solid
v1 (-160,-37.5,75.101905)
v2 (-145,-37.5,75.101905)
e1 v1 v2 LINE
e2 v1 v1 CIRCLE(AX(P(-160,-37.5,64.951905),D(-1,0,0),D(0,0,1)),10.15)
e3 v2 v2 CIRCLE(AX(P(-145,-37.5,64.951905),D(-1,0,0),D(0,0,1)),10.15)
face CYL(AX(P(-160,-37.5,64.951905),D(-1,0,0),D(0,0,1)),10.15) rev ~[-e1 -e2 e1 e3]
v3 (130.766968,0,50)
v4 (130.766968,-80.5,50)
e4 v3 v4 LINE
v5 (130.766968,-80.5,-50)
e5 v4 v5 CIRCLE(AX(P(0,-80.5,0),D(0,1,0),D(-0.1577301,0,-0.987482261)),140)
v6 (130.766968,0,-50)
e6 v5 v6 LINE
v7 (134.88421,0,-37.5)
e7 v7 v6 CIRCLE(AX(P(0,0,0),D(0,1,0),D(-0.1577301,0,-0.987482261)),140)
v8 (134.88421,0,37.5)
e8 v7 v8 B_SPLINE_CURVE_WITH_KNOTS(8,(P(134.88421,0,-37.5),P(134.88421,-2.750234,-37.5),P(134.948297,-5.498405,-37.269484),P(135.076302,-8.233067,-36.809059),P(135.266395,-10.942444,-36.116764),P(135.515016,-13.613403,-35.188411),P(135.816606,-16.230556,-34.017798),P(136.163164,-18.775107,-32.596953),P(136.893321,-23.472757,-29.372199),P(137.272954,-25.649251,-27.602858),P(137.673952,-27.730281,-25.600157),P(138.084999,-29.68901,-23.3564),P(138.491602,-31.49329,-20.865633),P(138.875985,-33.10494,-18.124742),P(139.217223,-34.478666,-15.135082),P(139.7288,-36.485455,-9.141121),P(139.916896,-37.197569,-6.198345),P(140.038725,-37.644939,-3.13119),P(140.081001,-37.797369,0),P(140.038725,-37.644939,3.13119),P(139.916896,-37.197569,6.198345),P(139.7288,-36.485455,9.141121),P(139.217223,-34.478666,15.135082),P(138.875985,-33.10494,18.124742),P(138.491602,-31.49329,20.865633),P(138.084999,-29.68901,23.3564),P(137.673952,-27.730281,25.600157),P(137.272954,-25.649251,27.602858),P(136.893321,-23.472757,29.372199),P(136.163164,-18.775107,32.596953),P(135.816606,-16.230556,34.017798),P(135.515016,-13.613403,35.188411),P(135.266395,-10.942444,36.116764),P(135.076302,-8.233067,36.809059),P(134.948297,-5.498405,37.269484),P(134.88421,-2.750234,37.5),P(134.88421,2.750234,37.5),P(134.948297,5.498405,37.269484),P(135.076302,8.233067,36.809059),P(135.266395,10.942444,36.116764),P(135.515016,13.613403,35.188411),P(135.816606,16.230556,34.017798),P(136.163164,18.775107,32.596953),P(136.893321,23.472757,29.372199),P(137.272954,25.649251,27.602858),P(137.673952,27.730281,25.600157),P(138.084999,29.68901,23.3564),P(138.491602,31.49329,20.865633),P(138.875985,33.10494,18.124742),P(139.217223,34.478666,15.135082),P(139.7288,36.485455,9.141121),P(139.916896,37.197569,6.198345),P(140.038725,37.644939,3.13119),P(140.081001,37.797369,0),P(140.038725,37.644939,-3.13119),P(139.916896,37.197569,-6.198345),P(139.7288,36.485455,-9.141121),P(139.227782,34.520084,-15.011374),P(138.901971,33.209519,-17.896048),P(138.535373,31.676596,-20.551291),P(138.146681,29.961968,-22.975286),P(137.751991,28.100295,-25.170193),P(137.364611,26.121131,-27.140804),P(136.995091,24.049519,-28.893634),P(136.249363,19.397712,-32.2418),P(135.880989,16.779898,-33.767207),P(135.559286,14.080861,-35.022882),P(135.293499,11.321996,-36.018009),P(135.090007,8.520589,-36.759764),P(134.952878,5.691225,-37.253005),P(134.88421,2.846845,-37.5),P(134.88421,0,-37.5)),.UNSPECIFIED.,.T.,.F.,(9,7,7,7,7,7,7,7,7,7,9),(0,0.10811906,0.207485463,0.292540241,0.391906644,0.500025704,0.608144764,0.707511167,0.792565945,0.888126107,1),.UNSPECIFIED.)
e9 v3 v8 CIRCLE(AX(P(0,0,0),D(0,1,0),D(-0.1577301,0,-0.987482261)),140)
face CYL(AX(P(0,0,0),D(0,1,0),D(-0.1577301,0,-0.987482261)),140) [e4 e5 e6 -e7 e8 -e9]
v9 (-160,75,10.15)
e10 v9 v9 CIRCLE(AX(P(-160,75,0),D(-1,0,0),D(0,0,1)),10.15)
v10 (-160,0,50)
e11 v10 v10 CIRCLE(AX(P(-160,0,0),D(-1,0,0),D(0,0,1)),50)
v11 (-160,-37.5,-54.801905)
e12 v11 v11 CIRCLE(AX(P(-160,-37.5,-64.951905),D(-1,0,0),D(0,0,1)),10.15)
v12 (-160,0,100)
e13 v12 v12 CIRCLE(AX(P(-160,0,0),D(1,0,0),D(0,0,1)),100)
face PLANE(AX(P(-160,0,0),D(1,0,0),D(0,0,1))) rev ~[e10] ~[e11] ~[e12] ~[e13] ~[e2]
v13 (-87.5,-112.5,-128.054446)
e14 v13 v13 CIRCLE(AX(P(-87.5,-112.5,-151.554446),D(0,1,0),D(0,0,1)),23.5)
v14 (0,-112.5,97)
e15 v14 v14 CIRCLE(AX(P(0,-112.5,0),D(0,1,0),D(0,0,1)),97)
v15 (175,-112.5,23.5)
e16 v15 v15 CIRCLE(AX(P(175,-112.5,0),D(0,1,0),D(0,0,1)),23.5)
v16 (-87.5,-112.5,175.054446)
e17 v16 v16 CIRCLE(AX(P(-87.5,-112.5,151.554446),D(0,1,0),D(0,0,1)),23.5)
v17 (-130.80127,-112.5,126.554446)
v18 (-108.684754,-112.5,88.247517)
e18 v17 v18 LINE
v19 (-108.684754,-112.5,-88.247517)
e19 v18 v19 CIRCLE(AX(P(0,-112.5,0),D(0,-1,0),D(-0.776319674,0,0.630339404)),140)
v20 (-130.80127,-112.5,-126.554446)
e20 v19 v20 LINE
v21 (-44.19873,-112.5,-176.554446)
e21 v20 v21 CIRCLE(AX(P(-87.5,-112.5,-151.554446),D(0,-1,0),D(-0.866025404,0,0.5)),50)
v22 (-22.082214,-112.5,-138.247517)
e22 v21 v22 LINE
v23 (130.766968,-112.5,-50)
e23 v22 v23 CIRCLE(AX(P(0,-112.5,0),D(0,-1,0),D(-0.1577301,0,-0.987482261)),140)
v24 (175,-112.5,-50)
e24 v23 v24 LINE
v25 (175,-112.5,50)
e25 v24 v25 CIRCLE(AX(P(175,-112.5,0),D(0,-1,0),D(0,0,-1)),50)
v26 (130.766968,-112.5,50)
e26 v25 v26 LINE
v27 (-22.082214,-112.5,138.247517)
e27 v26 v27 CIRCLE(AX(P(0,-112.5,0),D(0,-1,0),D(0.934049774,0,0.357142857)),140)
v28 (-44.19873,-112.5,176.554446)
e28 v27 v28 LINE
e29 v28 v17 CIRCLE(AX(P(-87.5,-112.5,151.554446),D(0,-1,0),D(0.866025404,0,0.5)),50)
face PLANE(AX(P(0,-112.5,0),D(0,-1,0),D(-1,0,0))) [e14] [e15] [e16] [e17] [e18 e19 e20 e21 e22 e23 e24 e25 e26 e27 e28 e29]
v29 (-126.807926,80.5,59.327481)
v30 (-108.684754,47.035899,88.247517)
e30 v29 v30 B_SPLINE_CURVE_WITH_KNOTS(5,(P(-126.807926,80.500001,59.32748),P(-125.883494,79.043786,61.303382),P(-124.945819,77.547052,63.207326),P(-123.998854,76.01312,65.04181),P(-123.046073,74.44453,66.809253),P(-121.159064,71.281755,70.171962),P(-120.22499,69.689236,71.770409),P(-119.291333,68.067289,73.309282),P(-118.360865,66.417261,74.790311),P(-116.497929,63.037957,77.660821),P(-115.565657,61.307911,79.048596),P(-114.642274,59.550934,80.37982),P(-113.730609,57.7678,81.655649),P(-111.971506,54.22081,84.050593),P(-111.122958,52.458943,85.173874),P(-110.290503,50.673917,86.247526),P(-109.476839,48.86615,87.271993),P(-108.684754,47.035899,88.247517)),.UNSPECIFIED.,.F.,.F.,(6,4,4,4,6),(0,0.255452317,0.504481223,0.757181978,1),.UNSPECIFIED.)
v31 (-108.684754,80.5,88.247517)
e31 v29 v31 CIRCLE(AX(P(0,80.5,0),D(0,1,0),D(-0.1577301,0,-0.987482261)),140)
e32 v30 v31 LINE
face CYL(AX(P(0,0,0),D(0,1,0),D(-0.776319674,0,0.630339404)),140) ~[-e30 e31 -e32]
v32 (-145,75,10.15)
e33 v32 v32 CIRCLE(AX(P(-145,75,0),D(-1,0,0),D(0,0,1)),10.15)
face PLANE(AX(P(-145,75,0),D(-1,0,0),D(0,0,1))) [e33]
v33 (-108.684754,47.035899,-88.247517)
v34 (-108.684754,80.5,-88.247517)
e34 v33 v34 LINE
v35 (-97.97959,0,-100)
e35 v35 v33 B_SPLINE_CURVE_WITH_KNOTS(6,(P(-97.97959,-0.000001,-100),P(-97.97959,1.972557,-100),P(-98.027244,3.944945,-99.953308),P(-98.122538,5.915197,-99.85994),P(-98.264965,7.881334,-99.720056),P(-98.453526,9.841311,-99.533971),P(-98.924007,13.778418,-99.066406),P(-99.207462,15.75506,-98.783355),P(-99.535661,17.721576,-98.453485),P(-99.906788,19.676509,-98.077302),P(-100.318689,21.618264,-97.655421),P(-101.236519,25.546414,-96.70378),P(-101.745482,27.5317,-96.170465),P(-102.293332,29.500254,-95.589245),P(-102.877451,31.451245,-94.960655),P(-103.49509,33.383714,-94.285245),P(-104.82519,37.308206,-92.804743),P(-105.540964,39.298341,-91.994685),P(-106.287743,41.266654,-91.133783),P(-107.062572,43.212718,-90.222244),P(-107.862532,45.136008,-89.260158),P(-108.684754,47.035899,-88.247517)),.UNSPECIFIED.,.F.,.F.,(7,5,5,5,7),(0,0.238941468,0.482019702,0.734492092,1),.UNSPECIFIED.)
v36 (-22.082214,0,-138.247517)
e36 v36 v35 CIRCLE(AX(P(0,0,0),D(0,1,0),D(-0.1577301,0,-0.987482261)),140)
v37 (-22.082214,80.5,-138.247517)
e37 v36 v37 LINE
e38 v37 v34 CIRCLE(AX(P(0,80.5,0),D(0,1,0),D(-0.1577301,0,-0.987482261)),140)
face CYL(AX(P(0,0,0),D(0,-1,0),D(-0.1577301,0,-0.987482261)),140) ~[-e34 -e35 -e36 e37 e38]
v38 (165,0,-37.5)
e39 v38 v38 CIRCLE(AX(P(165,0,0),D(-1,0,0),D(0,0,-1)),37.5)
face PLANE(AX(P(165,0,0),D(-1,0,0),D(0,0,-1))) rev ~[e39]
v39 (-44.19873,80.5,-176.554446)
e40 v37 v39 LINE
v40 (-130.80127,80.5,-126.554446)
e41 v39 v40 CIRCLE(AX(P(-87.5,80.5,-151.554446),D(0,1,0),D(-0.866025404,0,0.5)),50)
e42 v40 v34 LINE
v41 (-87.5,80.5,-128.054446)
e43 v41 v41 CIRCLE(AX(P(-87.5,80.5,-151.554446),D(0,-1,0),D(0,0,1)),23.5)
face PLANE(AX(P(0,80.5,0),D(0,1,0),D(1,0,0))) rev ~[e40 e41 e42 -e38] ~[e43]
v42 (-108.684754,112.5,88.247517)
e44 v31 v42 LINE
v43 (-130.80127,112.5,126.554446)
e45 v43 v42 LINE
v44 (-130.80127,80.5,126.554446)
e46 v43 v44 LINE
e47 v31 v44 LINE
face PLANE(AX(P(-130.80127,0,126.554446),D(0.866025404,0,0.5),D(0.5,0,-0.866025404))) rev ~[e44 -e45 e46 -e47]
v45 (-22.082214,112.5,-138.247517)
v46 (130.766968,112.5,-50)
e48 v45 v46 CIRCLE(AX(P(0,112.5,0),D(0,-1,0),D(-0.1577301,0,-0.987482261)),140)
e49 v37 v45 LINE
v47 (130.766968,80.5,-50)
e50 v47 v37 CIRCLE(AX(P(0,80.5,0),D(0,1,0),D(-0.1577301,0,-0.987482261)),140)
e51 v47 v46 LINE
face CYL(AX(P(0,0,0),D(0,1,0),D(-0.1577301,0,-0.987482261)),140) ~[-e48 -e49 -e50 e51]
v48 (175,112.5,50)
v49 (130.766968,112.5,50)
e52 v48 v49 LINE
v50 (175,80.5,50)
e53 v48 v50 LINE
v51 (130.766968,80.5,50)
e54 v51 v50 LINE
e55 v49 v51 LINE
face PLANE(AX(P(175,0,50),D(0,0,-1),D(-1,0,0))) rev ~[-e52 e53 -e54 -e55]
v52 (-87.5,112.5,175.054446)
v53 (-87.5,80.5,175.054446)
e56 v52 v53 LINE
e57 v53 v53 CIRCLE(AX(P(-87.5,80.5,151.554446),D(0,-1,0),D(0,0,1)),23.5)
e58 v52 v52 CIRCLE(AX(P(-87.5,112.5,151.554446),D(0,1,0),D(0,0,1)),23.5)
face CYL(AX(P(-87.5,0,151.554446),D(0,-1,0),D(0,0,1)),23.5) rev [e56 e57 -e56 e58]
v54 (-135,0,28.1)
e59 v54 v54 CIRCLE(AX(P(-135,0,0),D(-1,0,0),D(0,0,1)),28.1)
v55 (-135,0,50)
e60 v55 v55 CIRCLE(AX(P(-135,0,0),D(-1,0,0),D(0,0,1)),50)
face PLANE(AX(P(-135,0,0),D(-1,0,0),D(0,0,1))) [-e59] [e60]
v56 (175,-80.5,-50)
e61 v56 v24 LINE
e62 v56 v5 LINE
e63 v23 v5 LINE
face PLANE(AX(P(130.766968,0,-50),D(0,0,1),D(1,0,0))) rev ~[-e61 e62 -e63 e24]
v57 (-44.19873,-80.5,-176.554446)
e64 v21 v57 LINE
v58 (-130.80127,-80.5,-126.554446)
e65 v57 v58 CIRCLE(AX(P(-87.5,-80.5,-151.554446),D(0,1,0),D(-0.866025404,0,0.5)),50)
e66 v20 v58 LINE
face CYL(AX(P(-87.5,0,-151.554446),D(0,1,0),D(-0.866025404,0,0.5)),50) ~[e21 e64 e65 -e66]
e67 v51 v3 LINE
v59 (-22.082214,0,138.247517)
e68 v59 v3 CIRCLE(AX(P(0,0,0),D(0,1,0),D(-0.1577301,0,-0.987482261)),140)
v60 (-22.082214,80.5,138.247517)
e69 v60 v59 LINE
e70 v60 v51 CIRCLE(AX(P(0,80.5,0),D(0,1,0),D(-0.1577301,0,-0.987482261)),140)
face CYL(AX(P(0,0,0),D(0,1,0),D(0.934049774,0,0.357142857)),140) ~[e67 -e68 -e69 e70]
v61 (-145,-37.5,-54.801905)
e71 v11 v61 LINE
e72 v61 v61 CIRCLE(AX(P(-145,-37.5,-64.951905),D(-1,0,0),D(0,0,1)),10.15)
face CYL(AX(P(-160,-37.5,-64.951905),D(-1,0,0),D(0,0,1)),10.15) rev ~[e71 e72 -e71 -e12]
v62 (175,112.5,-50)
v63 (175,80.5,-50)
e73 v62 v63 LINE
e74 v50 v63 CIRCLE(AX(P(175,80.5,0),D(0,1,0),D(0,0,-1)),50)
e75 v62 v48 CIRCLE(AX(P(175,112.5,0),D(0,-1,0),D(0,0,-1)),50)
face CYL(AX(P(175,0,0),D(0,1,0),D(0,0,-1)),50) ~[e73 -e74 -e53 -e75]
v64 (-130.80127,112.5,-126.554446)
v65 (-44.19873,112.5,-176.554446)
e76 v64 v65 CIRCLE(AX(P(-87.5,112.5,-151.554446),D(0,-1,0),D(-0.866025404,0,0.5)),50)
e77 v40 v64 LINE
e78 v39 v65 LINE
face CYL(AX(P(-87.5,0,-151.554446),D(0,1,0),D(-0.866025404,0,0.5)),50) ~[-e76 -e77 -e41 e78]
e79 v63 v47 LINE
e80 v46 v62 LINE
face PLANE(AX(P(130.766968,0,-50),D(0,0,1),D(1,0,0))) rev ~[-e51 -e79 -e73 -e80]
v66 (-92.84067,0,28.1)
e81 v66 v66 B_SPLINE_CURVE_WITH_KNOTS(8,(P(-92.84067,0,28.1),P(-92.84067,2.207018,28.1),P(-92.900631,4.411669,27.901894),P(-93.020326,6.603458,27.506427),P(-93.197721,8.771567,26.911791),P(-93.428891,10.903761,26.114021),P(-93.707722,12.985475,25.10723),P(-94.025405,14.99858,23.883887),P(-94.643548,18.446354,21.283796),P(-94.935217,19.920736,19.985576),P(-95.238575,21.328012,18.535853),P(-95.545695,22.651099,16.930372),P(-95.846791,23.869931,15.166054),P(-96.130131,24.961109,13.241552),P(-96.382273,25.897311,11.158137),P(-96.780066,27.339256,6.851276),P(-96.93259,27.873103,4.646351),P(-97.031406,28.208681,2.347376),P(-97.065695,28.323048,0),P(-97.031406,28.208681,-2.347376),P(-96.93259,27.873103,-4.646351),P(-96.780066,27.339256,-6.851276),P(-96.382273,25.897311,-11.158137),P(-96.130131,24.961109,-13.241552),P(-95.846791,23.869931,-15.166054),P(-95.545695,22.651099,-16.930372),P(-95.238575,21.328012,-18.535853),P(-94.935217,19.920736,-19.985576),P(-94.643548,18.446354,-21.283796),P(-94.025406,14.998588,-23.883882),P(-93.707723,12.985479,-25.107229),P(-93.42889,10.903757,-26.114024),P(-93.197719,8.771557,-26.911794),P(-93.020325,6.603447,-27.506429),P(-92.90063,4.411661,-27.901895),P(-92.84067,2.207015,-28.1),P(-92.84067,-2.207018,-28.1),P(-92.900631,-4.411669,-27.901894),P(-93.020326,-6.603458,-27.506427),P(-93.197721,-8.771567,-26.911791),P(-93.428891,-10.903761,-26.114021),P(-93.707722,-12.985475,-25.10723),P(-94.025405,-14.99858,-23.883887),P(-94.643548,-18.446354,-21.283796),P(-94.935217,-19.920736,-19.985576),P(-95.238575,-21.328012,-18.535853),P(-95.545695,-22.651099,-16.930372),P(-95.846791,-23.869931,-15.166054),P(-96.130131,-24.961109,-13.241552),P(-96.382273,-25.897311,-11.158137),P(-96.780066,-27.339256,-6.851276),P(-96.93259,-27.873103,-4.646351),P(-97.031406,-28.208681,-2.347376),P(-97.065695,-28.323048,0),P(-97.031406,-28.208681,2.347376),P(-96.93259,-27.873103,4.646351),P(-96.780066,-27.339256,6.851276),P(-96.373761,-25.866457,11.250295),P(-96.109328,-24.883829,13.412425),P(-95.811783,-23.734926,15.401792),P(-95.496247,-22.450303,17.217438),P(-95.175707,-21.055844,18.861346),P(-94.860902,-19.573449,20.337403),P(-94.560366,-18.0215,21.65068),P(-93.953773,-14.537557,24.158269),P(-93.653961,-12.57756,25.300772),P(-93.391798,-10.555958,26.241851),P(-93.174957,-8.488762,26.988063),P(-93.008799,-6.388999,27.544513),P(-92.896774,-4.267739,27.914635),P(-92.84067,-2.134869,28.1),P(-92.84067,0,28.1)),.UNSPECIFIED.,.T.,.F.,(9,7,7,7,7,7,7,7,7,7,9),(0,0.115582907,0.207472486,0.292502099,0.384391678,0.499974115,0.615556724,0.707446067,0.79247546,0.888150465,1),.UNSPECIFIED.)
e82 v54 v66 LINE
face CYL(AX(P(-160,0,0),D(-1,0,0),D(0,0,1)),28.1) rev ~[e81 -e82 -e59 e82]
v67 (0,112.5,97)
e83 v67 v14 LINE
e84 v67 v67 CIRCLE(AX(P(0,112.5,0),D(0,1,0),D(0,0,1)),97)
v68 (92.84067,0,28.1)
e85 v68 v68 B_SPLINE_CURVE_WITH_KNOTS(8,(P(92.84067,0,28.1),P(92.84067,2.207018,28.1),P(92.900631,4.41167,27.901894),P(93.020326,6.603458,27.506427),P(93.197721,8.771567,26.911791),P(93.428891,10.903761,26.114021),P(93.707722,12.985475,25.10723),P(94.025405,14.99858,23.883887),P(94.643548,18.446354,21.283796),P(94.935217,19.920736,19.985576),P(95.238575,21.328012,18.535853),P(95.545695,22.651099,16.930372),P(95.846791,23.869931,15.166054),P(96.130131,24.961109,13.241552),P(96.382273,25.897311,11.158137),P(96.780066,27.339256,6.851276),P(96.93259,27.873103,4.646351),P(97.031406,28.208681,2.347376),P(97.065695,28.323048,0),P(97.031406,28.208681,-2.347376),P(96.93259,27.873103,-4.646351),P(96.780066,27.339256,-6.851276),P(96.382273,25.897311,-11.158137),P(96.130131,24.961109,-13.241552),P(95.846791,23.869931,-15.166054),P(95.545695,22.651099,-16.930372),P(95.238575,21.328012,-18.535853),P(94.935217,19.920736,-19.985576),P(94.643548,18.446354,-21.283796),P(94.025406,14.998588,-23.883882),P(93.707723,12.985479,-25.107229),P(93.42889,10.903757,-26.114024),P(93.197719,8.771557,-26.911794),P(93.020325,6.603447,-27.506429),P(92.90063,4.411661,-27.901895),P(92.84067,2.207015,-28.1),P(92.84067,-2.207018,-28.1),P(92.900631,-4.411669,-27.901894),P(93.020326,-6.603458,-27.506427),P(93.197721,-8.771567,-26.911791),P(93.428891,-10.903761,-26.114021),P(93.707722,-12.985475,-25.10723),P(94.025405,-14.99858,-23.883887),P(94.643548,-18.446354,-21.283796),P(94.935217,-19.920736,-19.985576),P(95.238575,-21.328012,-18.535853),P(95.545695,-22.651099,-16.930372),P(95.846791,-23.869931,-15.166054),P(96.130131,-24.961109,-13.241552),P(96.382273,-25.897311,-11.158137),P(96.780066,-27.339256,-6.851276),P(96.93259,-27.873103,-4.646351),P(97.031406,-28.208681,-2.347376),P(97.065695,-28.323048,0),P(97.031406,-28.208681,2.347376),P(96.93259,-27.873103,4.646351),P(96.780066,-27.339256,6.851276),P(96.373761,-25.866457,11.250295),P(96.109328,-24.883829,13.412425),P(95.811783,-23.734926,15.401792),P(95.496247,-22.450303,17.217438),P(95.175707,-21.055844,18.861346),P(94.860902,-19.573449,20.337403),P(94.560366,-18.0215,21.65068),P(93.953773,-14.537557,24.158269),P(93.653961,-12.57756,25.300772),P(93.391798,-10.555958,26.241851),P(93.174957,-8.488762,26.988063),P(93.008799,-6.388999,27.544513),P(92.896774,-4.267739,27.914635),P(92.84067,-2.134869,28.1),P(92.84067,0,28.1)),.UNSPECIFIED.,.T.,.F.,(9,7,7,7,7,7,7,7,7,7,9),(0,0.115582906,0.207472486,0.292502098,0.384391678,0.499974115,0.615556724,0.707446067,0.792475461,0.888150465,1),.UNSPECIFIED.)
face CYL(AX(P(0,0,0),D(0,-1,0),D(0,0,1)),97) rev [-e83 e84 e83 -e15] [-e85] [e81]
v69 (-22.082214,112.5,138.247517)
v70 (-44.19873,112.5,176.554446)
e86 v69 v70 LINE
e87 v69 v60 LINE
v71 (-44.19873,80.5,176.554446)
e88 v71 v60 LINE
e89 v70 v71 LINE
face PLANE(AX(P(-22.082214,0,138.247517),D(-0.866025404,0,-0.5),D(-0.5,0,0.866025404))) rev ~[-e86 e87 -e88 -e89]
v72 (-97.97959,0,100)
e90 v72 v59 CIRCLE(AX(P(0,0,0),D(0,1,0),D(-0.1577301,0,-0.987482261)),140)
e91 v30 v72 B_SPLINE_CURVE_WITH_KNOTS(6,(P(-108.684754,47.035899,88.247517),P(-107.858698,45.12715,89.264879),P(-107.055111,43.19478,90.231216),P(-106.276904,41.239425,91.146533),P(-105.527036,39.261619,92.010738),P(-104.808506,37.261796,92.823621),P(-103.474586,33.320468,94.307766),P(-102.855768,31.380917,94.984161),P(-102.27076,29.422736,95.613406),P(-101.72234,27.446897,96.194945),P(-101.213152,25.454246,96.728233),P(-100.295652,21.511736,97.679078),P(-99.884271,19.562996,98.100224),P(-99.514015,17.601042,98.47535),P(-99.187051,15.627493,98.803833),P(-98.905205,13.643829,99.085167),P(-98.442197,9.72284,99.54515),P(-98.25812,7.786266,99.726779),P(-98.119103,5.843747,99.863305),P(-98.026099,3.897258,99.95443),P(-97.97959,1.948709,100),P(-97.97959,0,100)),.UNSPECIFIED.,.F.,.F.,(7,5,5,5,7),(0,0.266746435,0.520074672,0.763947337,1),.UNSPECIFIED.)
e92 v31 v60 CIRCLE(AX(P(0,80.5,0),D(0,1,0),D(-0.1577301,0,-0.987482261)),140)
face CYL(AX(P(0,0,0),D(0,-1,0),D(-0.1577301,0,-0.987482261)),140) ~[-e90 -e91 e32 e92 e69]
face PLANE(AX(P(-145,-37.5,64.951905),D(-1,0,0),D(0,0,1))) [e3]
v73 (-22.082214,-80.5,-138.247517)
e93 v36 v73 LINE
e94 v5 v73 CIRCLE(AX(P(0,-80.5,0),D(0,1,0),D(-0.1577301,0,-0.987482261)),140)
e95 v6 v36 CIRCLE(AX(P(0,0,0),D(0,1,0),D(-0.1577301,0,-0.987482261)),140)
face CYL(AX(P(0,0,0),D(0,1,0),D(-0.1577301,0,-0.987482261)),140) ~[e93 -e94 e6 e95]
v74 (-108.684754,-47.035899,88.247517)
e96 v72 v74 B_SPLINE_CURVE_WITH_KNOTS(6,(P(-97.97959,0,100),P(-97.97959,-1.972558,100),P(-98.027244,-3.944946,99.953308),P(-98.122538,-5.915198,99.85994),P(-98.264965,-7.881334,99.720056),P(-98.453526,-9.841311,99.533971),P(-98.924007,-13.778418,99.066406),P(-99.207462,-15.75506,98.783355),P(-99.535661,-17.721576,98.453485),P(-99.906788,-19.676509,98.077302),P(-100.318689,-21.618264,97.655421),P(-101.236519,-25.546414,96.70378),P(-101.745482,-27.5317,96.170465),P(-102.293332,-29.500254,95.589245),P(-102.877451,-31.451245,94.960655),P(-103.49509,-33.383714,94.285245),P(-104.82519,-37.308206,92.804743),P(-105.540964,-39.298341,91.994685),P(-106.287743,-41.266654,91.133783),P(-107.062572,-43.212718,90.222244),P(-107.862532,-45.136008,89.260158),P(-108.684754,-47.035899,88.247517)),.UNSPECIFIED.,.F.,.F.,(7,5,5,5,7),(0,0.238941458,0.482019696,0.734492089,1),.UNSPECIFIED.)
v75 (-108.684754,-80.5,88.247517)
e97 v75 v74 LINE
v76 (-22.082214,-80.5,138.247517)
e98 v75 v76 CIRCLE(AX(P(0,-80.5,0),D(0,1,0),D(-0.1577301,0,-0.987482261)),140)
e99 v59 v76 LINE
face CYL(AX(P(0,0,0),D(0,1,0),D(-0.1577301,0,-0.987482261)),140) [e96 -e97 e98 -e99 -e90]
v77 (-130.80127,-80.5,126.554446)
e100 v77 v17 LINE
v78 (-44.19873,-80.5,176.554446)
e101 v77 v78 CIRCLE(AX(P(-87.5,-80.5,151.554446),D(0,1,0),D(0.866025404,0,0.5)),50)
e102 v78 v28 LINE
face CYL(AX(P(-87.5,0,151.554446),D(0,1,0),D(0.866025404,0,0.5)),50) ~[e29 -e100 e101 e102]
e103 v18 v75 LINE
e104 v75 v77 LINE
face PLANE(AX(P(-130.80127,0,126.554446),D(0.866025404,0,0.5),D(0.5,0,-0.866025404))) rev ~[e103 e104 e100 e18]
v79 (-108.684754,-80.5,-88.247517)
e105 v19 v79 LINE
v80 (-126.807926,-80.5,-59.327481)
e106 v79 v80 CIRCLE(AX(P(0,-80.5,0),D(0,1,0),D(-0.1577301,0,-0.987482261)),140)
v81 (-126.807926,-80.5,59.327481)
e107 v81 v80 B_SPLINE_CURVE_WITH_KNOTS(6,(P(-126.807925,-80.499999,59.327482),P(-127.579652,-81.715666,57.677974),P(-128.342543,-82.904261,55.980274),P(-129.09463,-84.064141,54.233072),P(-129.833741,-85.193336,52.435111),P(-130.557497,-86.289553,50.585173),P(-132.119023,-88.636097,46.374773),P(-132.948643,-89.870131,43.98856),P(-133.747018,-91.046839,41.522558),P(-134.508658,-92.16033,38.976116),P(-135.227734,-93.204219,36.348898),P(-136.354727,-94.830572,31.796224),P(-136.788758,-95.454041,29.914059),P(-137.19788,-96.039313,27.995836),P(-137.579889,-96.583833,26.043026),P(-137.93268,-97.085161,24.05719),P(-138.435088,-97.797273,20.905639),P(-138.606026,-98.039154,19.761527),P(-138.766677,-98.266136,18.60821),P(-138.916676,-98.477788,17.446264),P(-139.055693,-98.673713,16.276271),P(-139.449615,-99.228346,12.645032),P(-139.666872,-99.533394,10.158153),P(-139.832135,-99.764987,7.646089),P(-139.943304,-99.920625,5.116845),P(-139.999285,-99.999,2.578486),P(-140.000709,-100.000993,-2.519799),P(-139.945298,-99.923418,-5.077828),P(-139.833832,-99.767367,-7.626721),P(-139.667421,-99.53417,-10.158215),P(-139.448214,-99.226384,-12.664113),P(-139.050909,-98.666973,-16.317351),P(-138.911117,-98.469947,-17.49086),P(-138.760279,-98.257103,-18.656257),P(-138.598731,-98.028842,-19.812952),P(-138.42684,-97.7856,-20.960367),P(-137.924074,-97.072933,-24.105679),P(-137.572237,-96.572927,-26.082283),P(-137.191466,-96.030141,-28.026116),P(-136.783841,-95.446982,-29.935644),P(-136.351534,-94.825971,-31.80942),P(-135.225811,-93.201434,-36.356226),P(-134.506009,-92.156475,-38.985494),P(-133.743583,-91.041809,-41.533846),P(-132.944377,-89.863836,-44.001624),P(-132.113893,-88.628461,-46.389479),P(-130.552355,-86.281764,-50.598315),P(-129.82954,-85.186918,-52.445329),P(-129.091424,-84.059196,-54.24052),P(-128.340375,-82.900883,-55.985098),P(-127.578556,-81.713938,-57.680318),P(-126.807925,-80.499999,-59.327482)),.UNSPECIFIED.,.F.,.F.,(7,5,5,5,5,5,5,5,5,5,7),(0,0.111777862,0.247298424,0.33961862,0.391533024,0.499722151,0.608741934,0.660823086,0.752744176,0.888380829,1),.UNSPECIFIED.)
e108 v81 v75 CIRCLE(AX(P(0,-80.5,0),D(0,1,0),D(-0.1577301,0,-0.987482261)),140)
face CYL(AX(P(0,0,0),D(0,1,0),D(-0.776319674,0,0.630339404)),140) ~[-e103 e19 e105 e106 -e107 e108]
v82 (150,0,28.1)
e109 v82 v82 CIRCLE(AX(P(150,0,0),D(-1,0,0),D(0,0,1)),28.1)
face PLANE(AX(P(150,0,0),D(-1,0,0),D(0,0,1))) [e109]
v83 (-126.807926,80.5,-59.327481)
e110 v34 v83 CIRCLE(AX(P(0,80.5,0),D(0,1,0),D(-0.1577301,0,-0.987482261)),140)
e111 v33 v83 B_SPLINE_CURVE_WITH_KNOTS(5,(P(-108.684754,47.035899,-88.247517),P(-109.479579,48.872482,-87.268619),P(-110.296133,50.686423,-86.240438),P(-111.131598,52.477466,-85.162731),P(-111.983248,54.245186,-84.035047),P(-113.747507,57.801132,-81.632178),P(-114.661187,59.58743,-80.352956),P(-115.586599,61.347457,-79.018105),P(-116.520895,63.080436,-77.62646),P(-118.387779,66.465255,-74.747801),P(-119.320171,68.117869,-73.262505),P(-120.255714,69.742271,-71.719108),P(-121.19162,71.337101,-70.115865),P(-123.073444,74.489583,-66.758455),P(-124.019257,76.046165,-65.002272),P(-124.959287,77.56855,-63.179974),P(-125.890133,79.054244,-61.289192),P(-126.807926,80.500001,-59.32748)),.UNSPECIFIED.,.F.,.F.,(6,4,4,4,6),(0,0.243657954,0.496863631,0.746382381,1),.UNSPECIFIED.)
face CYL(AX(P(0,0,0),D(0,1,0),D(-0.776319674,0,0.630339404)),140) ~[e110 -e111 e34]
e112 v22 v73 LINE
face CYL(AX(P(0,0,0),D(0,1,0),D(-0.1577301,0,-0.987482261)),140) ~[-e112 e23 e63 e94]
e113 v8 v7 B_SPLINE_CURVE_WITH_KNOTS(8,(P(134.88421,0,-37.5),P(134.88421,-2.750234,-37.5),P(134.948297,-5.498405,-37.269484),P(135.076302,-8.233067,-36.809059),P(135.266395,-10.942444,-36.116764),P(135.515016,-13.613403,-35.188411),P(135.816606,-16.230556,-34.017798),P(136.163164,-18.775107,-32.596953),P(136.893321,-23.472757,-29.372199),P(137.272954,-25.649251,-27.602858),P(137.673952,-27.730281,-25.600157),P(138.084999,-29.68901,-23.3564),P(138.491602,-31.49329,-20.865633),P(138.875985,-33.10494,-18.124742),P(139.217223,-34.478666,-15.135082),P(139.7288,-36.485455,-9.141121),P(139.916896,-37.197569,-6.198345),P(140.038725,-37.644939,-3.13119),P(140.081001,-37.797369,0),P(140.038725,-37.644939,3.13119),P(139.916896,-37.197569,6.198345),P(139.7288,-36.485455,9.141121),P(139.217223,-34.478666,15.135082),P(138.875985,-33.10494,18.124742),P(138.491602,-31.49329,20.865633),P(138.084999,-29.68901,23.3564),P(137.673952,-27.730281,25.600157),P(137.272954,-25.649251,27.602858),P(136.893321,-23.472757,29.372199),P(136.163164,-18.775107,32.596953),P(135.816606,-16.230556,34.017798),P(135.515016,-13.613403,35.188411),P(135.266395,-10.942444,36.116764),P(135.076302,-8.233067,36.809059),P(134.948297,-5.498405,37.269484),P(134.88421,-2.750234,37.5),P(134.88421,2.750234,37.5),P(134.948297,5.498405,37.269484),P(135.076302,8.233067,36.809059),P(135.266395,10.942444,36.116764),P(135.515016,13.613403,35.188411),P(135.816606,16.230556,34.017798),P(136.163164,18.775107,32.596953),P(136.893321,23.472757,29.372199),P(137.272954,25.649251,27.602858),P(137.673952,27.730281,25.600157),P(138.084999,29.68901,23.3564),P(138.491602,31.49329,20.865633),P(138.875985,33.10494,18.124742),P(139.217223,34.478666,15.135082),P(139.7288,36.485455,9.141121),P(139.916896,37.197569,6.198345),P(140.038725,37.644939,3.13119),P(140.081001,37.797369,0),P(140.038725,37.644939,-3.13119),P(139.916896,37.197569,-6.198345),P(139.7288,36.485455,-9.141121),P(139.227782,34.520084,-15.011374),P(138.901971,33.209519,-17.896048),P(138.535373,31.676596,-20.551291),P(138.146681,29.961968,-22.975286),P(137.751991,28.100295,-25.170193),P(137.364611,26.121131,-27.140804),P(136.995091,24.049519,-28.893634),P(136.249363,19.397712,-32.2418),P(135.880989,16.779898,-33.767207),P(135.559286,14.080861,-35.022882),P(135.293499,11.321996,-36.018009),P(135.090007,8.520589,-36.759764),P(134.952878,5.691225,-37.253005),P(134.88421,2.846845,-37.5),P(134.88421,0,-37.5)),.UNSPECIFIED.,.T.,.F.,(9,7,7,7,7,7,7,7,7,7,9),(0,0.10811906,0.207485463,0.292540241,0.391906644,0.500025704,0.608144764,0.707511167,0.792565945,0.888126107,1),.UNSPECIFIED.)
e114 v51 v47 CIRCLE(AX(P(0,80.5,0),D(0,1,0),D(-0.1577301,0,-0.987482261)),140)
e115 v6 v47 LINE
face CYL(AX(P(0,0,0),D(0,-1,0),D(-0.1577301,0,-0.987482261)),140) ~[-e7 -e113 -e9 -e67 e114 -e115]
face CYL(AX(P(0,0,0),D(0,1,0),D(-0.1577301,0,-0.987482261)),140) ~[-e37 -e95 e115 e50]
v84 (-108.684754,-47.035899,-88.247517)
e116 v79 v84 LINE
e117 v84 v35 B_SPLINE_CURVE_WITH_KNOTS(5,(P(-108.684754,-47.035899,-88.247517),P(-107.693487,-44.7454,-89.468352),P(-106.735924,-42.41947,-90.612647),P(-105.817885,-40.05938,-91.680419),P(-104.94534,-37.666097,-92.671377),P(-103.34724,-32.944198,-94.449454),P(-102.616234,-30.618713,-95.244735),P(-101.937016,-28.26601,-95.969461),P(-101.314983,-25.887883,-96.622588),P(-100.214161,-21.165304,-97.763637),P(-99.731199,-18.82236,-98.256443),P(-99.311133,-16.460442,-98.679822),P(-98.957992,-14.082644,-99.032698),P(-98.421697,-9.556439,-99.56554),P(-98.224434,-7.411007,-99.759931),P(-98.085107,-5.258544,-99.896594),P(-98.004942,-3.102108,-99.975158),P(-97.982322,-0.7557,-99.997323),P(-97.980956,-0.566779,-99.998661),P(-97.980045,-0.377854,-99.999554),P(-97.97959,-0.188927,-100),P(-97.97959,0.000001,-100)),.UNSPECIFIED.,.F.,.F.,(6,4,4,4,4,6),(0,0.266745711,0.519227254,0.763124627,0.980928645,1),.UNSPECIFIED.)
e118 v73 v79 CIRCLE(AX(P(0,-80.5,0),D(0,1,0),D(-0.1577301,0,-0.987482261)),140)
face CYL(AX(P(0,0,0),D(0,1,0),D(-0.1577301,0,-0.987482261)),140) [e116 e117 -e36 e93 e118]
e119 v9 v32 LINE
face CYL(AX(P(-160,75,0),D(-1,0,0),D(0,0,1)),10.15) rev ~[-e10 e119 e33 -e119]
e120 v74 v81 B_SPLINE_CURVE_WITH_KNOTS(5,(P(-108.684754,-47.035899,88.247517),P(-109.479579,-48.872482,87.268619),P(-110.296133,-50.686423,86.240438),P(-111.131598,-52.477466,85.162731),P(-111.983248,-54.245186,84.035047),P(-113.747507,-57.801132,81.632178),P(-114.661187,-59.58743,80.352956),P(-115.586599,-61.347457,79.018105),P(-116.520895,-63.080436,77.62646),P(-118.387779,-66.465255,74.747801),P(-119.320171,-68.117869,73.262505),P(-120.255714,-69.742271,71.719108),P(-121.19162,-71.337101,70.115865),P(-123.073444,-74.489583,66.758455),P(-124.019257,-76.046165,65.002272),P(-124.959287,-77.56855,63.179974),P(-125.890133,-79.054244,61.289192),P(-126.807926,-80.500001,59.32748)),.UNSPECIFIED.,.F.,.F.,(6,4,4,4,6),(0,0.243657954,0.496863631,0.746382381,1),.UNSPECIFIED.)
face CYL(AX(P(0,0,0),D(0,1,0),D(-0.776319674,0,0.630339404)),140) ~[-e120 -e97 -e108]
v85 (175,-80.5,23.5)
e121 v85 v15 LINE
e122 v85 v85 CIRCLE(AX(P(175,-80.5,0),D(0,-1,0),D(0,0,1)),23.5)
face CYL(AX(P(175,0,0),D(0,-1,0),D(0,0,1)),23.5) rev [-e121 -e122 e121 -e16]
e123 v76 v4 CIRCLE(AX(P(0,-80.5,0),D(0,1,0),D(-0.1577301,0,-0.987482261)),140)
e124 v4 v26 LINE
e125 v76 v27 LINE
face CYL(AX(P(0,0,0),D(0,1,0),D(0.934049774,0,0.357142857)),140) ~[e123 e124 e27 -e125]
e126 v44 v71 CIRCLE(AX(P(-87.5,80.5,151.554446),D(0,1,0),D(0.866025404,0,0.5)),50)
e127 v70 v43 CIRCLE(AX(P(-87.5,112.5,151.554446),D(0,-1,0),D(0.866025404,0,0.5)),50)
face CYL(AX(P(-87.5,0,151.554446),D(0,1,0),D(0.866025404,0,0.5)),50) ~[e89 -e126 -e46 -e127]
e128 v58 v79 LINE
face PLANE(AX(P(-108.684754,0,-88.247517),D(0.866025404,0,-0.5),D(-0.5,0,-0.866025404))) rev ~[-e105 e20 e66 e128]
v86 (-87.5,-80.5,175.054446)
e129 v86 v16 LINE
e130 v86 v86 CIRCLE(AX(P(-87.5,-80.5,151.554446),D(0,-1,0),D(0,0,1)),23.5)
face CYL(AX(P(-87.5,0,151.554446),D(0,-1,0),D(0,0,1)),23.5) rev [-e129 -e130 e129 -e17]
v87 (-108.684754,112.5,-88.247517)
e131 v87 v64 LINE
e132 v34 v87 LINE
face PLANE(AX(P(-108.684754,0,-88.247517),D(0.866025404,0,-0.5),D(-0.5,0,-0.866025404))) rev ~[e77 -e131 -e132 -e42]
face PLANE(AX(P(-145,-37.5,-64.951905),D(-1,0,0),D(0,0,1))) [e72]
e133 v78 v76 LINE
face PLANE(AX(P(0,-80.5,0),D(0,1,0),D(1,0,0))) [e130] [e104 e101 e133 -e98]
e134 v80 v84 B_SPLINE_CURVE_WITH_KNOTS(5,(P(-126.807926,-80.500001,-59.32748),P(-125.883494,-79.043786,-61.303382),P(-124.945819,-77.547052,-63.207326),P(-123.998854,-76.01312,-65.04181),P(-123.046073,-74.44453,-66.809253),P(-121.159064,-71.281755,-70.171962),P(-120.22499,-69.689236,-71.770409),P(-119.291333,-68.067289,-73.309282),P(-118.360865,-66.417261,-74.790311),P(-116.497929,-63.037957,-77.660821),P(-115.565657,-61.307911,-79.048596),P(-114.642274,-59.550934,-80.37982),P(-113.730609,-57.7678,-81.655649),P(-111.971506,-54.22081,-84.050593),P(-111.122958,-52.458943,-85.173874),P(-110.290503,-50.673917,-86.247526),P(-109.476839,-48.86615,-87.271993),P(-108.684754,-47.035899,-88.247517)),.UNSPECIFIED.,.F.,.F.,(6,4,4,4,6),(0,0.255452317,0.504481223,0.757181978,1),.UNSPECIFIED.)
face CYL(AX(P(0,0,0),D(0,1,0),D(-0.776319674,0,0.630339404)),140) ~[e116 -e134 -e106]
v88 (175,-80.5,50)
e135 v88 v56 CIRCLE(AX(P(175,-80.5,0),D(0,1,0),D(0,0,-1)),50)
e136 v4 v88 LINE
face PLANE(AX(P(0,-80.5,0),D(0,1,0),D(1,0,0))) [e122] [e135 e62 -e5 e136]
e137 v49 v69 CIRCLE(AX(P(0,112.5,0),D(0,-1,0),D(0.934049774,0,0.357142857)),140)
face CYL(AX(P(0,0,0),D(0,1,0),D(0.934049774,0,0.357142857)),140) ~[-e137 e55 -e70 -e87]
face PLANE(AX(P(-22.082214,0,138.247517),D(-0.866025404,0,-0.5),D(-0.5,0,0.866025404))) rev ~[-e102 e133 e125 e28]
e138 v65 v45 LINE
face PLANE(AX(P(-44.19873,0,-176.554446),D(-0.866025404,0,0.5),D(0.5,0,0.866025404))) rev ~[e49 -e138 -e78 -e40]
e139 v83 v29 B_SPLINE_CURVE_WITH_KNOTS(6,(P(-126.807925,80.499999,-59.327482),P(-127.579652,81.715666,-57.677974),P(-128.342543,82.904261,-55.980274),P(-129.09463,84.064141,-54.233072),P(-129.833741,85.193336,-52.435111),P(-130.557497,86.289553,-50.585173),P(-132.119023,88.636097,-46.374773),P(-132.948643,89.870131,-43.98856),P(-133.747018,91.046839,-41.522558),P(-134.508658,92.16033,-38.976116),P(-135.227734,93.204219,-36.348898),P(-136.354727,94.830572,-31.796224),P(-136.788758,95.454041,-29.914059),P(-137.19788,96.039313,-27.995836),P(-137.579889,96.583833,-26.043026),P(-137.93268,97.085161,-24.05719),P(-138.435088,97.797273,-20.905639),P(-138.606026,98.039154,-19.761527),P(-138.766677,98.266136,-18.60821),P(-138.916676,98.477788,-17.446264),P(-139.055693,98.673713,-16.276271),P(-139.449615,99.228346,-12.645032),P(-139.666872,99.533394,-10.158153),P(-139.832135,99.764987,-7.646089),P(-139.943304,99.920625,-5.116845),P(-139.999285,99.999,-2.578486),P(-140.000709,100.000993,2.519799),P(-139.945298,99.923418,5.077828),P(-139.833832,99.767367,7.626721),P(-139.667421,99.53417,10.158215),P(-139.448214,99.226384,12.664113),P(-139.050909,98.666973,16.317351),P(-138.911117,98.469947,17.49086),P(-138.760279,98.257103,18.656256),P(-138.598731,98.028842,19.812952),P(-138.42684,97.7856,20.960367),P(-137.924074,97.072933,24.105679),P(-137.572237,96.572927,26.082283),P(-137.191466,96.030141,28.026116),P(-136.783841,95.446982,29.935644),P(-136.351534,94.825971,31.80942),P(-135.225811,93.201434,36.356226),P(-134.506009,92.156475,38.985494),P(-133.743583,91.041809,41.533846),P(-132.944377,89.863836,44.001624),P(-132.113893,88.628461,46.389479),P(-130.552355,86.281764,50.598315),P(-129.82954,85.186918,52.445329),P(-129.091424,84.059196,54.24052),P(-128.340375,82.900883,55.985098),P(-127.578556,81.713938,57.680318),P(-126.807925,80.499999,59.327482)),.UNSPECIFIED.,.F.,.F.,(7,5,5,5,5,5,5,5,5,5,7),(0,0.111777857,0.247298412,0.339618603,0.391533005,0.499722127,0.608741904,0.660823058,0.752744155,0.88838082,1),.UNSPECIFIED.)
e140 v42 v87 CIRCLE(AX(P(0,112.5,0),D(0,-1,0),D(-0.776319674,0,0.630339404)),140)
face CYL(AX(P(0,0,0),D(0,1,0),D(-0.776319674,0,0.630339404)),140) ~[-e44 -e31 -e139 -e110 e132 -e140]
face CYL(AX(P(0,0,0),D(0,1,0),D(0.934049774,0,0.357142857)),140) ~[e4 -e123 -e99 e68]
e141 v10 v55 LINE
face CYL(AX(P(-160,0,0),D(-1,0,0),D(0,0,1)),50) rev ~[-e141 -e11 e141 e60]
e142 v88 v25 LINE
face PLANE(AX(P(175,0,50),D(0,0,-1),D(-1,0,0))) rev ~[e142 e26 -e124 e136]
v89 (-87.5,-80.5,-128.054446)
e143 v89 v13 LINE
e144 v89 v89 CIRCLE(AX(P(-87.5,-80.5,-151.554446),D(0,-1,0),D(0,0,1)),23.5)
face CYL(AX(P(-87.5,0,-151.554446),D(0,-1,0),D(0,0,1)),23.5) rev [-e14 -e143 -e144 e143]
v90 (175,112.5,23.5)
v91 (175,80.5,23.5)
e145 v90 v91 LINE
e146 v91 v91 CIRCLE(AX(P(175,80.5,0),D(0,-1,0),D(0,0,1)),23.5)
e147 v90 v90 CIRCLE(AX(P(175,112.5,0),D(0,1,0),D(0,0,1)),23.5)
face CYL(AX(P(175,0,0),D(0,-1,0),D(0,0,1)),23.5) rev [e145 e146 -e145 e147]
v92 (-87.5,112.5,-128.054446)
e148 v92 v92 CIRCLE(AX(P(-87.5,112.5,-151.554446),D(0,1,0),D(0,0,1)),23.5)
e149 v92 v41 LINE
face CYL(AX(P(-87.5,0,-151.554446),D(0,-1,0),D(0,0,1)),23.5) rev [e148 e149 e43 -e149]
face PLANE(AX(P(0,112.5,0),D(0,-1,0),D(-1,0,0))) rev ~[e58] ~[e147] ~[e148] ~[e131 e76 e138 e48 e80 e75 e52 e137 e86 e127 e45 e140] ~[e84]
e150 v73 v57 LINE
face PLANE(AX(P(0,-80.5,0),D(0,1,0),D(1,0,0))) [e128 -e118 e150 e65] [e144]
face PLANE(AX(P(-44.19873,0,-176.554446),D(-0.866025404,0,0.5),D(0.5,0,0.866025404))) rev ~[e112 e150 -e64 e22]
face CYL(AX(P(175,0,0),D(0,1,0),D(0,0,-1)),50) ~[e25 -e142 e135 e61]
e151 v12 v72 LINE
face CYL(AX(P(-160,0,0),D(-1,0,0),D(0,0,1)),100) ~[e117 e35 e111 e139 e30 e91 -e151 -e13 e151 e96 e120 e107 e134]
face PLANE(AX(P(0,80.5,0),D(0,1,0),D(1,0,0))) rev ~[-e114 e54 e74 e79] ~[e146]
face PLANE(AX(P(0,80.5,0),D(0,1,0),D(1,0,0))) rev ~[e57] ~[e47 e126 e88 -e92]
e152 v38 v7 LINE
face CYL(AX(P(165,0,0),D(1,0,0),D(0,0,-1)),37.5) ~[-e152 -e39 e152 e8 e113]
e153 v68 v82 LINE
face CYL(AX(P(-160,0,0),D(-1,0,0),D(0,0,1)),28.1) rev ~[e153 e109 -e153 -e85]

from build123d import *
from build123d.topology import SkipClean

# Parameters (mm, degrees)
SKETCH1_R                = 97
SKETCH1_R_2              = 23.5
BOSS_EXTRUDE1_DEPTH      = 112.5
SKETCH2_R                = 250
SKETCH2_R_2              = 140
CUT_EXTRUDE8_DEPTH       = 80.5
BOSS_EXTRUDE2_START      = -160
SKETCH4_R                = 100
BOSS_EXTRUDE2_DEPTH      = 62.02041
SKETCH5_R                = 10.15
CUT_EXTRUDE9_DEPTH       = 15
SKETCH6_R                = 50
CUT_EXTRUDE10_DEPTH      = 25
BOSS_EXTRUDE3_REACH      = 775.894
BOSS_EXTRUDE3_END_RADIUS = 140
BOSS_EXTRUDE3_START      = -325
SKETCH7_R                = 37.5
SKETCH8_R                = 28.1
CUT_EXTRUDE11_DEPTH      = 310


with BuildPart() as part:
    # Sketch1 → Boss-Extrude1 (new, symmetric)
    with BuildSketch(Plane(origin=(0, 0, 0), x_dir=(1, 0, 0), z_dir=(0, 1, 0))):
        with BuildLine():
            Line((130.766968306, 50), (175, 50))
            ThreePointArc((175, 50), (225, 0), (175, -50))
            Line((175, -50), (130.766968306, -50))
            ThreePointArc((130.766968306, -50), (70, -121.24355653), (-22.082213964, -138.247516529))
            Line((-22.082213964, -138.247516529), (-44.198729811, -176.554445662))
            ThreePointArc((-44.198729811, -176.554445662), (-112.5, -194.855715851), (-130.801270189, -126.554445662))
            Line((-130.801270189, -126.554445662), (-108.684754342, -88.247516529))
            ThreePointArc((-108.684754342, -88.247516529), (-140, 0), (-108.684754342, 88.247516529))
            Line((-108.684754342, 88.247516529), (-130.801270189, 126.554445662))
            ThreePointArc((-130.801270189, 126.554445662), (-112.5, 194.855715851), (-44.198729811, 176.554445662))
            Line((-44.198729811, 176.554445662), (-22.082213964, 138.247516529))
            ThreePointArc((-22.082213964, 138.247516529), (70, 121.24355653), (130.766968306, 50))
        make_face()
        with Locations(Location((0, 0, 0), (0, 0, 270))):
            Circle(SKETCH1_R, mode=Mode.SUBTRACT)
        with Locations(Location((175, 0, 0), (0, 0, 270))):
            Circle(SKETCH1_R_2, mode=Mode.SUBTRACT)
        with Locations(Location((-87.5, -151.554445662, 0), (0, 0, 270))):
            Circle(SKETCH1_R_2, mode=Mode.SUBTRACT)
        with Locations(Location((-87.5, 151.554445662, 0), (0, 0, 270))):
            Circle(SKETCH1_R_2, mode=Mode.SUBTRACT)
    extrude(amount=BOSS_EXTRUDE1_DEPTH, both=True)

    # Sketch2 → Cut-Extrude8 (cut, symmetric)
    with SkipClean():  # the faces are left unmerged after this step: merging them gives an invalid solid
        with BuildSketch(Plane(origin=(0, 0, 0), x_dir=(1, 0, 0), z_dir=(0, 1, 0))):
            Circle(SKETCH2_R)
            with Locations(Location((0, 0, 0), (0, 0, 99.075167572))):
                Circle(SKETCH2_R_2, mode=Mode.SUBTRACT)
        extrude(amount=CUT_EXTRUDE8_DEPTH, both=True, mode=Mode.SUBTRACT)

    # Sketch4 → Boss-Extrude2 (add)
    with SkipClean():  # the faces are left unmerged after this step: merging them gives an invalid solid
        with BuildSketch(Plane(origin=(0, 0, 0), x_dir=(0, 0, -1), z_dir=(1, 0, 0)).offset(BOSS_EXTRUDE2_START)):
            with Locations(Location((0, 0, 0), (0, 0, 180))):
                Circle(SKETCH4_R)
        extrude(amount=BOSS_EXTRUDE2_DEPTH)

    # Sketch5 → Cut-Extrude9 (cut)
    with SkipClean():  # the faces are left unmerged after this step: merging them gives an invalid solid
        with BuildSketch(Plane.ZY.offset(160)):
            with Locations((0, 75)):
                Circle(SKETCH5_R)
            with Locations((64.951905284, -37.5)):
                Circle(SKETCH5_R)
            with Locations((-64.951905284, -37.5)):
                Circle(SKETCH5_R)
        extrude(amount=-CUT_EXTRUDE9_DEPTH, mode=Mode.SUBTRACT)

    # Sketch6 → Cut-Extrude10 (cut)
    with SkipClean():  # the faces are left unmerged after this step: merging them gives an invalid solid
        with BuildSketch(Plane.ZY.offset(160)):
            Circle(SKETCH6_R)
        extrude(amount=-CUT_EXTRUDE10_DEPTH, mode=Mode.SUBTRACT)

    # Boss-Extrude3: up to this cylinder (the profile starts outside it)
    with SkipClean():  # the faces are left unmerged after this step: merging them gives an invalid solid
        boss_extrude3_end = Plane(origin=(0, 0, 0), z_dir=(0, -1, 0)) * Cylinder(BOSS_EXTRUDE3_END_RADIUS, 1832.788, mode=Mode.PRIVATE)
        # Sketch7 → Boss-Extrude3 (add, up to the surface)
        with BuildSketch(Plane.ZY.offset(160).offset(BOSS_EXTRUDE3_START), mode=Mode.PRIVATE) as boss_extrude3_sk1:
            with Locations(Location((0, 0, 0), (0, 0, 180))):
                Circle(SKETCH7_R)
        boss_extrude3_tool1 = extrude(boss_extrude3_sk1.sketch, amount=BOSS_EXTRUDE3_REACH, mode=Mode.PRIVATE) - boss_extrude3_end
        add(boss_extrude3_tool1.solids().sort_by_distance((165, 0, 0))[0])

    # Sketch8 → Cut-Extrude11 (cut)
    with SkipClean():  # the faces are left unmerged after this step: merging them gives an invalid solid
        with BuildSketch(Plane.ZY.offset(160)):
            Circle(SKETCH8_R)
        extrude(amount=-CUT_EXTRUDE11_DEPTH, mode=Mode.SUBTRACT)


solid = part.part
